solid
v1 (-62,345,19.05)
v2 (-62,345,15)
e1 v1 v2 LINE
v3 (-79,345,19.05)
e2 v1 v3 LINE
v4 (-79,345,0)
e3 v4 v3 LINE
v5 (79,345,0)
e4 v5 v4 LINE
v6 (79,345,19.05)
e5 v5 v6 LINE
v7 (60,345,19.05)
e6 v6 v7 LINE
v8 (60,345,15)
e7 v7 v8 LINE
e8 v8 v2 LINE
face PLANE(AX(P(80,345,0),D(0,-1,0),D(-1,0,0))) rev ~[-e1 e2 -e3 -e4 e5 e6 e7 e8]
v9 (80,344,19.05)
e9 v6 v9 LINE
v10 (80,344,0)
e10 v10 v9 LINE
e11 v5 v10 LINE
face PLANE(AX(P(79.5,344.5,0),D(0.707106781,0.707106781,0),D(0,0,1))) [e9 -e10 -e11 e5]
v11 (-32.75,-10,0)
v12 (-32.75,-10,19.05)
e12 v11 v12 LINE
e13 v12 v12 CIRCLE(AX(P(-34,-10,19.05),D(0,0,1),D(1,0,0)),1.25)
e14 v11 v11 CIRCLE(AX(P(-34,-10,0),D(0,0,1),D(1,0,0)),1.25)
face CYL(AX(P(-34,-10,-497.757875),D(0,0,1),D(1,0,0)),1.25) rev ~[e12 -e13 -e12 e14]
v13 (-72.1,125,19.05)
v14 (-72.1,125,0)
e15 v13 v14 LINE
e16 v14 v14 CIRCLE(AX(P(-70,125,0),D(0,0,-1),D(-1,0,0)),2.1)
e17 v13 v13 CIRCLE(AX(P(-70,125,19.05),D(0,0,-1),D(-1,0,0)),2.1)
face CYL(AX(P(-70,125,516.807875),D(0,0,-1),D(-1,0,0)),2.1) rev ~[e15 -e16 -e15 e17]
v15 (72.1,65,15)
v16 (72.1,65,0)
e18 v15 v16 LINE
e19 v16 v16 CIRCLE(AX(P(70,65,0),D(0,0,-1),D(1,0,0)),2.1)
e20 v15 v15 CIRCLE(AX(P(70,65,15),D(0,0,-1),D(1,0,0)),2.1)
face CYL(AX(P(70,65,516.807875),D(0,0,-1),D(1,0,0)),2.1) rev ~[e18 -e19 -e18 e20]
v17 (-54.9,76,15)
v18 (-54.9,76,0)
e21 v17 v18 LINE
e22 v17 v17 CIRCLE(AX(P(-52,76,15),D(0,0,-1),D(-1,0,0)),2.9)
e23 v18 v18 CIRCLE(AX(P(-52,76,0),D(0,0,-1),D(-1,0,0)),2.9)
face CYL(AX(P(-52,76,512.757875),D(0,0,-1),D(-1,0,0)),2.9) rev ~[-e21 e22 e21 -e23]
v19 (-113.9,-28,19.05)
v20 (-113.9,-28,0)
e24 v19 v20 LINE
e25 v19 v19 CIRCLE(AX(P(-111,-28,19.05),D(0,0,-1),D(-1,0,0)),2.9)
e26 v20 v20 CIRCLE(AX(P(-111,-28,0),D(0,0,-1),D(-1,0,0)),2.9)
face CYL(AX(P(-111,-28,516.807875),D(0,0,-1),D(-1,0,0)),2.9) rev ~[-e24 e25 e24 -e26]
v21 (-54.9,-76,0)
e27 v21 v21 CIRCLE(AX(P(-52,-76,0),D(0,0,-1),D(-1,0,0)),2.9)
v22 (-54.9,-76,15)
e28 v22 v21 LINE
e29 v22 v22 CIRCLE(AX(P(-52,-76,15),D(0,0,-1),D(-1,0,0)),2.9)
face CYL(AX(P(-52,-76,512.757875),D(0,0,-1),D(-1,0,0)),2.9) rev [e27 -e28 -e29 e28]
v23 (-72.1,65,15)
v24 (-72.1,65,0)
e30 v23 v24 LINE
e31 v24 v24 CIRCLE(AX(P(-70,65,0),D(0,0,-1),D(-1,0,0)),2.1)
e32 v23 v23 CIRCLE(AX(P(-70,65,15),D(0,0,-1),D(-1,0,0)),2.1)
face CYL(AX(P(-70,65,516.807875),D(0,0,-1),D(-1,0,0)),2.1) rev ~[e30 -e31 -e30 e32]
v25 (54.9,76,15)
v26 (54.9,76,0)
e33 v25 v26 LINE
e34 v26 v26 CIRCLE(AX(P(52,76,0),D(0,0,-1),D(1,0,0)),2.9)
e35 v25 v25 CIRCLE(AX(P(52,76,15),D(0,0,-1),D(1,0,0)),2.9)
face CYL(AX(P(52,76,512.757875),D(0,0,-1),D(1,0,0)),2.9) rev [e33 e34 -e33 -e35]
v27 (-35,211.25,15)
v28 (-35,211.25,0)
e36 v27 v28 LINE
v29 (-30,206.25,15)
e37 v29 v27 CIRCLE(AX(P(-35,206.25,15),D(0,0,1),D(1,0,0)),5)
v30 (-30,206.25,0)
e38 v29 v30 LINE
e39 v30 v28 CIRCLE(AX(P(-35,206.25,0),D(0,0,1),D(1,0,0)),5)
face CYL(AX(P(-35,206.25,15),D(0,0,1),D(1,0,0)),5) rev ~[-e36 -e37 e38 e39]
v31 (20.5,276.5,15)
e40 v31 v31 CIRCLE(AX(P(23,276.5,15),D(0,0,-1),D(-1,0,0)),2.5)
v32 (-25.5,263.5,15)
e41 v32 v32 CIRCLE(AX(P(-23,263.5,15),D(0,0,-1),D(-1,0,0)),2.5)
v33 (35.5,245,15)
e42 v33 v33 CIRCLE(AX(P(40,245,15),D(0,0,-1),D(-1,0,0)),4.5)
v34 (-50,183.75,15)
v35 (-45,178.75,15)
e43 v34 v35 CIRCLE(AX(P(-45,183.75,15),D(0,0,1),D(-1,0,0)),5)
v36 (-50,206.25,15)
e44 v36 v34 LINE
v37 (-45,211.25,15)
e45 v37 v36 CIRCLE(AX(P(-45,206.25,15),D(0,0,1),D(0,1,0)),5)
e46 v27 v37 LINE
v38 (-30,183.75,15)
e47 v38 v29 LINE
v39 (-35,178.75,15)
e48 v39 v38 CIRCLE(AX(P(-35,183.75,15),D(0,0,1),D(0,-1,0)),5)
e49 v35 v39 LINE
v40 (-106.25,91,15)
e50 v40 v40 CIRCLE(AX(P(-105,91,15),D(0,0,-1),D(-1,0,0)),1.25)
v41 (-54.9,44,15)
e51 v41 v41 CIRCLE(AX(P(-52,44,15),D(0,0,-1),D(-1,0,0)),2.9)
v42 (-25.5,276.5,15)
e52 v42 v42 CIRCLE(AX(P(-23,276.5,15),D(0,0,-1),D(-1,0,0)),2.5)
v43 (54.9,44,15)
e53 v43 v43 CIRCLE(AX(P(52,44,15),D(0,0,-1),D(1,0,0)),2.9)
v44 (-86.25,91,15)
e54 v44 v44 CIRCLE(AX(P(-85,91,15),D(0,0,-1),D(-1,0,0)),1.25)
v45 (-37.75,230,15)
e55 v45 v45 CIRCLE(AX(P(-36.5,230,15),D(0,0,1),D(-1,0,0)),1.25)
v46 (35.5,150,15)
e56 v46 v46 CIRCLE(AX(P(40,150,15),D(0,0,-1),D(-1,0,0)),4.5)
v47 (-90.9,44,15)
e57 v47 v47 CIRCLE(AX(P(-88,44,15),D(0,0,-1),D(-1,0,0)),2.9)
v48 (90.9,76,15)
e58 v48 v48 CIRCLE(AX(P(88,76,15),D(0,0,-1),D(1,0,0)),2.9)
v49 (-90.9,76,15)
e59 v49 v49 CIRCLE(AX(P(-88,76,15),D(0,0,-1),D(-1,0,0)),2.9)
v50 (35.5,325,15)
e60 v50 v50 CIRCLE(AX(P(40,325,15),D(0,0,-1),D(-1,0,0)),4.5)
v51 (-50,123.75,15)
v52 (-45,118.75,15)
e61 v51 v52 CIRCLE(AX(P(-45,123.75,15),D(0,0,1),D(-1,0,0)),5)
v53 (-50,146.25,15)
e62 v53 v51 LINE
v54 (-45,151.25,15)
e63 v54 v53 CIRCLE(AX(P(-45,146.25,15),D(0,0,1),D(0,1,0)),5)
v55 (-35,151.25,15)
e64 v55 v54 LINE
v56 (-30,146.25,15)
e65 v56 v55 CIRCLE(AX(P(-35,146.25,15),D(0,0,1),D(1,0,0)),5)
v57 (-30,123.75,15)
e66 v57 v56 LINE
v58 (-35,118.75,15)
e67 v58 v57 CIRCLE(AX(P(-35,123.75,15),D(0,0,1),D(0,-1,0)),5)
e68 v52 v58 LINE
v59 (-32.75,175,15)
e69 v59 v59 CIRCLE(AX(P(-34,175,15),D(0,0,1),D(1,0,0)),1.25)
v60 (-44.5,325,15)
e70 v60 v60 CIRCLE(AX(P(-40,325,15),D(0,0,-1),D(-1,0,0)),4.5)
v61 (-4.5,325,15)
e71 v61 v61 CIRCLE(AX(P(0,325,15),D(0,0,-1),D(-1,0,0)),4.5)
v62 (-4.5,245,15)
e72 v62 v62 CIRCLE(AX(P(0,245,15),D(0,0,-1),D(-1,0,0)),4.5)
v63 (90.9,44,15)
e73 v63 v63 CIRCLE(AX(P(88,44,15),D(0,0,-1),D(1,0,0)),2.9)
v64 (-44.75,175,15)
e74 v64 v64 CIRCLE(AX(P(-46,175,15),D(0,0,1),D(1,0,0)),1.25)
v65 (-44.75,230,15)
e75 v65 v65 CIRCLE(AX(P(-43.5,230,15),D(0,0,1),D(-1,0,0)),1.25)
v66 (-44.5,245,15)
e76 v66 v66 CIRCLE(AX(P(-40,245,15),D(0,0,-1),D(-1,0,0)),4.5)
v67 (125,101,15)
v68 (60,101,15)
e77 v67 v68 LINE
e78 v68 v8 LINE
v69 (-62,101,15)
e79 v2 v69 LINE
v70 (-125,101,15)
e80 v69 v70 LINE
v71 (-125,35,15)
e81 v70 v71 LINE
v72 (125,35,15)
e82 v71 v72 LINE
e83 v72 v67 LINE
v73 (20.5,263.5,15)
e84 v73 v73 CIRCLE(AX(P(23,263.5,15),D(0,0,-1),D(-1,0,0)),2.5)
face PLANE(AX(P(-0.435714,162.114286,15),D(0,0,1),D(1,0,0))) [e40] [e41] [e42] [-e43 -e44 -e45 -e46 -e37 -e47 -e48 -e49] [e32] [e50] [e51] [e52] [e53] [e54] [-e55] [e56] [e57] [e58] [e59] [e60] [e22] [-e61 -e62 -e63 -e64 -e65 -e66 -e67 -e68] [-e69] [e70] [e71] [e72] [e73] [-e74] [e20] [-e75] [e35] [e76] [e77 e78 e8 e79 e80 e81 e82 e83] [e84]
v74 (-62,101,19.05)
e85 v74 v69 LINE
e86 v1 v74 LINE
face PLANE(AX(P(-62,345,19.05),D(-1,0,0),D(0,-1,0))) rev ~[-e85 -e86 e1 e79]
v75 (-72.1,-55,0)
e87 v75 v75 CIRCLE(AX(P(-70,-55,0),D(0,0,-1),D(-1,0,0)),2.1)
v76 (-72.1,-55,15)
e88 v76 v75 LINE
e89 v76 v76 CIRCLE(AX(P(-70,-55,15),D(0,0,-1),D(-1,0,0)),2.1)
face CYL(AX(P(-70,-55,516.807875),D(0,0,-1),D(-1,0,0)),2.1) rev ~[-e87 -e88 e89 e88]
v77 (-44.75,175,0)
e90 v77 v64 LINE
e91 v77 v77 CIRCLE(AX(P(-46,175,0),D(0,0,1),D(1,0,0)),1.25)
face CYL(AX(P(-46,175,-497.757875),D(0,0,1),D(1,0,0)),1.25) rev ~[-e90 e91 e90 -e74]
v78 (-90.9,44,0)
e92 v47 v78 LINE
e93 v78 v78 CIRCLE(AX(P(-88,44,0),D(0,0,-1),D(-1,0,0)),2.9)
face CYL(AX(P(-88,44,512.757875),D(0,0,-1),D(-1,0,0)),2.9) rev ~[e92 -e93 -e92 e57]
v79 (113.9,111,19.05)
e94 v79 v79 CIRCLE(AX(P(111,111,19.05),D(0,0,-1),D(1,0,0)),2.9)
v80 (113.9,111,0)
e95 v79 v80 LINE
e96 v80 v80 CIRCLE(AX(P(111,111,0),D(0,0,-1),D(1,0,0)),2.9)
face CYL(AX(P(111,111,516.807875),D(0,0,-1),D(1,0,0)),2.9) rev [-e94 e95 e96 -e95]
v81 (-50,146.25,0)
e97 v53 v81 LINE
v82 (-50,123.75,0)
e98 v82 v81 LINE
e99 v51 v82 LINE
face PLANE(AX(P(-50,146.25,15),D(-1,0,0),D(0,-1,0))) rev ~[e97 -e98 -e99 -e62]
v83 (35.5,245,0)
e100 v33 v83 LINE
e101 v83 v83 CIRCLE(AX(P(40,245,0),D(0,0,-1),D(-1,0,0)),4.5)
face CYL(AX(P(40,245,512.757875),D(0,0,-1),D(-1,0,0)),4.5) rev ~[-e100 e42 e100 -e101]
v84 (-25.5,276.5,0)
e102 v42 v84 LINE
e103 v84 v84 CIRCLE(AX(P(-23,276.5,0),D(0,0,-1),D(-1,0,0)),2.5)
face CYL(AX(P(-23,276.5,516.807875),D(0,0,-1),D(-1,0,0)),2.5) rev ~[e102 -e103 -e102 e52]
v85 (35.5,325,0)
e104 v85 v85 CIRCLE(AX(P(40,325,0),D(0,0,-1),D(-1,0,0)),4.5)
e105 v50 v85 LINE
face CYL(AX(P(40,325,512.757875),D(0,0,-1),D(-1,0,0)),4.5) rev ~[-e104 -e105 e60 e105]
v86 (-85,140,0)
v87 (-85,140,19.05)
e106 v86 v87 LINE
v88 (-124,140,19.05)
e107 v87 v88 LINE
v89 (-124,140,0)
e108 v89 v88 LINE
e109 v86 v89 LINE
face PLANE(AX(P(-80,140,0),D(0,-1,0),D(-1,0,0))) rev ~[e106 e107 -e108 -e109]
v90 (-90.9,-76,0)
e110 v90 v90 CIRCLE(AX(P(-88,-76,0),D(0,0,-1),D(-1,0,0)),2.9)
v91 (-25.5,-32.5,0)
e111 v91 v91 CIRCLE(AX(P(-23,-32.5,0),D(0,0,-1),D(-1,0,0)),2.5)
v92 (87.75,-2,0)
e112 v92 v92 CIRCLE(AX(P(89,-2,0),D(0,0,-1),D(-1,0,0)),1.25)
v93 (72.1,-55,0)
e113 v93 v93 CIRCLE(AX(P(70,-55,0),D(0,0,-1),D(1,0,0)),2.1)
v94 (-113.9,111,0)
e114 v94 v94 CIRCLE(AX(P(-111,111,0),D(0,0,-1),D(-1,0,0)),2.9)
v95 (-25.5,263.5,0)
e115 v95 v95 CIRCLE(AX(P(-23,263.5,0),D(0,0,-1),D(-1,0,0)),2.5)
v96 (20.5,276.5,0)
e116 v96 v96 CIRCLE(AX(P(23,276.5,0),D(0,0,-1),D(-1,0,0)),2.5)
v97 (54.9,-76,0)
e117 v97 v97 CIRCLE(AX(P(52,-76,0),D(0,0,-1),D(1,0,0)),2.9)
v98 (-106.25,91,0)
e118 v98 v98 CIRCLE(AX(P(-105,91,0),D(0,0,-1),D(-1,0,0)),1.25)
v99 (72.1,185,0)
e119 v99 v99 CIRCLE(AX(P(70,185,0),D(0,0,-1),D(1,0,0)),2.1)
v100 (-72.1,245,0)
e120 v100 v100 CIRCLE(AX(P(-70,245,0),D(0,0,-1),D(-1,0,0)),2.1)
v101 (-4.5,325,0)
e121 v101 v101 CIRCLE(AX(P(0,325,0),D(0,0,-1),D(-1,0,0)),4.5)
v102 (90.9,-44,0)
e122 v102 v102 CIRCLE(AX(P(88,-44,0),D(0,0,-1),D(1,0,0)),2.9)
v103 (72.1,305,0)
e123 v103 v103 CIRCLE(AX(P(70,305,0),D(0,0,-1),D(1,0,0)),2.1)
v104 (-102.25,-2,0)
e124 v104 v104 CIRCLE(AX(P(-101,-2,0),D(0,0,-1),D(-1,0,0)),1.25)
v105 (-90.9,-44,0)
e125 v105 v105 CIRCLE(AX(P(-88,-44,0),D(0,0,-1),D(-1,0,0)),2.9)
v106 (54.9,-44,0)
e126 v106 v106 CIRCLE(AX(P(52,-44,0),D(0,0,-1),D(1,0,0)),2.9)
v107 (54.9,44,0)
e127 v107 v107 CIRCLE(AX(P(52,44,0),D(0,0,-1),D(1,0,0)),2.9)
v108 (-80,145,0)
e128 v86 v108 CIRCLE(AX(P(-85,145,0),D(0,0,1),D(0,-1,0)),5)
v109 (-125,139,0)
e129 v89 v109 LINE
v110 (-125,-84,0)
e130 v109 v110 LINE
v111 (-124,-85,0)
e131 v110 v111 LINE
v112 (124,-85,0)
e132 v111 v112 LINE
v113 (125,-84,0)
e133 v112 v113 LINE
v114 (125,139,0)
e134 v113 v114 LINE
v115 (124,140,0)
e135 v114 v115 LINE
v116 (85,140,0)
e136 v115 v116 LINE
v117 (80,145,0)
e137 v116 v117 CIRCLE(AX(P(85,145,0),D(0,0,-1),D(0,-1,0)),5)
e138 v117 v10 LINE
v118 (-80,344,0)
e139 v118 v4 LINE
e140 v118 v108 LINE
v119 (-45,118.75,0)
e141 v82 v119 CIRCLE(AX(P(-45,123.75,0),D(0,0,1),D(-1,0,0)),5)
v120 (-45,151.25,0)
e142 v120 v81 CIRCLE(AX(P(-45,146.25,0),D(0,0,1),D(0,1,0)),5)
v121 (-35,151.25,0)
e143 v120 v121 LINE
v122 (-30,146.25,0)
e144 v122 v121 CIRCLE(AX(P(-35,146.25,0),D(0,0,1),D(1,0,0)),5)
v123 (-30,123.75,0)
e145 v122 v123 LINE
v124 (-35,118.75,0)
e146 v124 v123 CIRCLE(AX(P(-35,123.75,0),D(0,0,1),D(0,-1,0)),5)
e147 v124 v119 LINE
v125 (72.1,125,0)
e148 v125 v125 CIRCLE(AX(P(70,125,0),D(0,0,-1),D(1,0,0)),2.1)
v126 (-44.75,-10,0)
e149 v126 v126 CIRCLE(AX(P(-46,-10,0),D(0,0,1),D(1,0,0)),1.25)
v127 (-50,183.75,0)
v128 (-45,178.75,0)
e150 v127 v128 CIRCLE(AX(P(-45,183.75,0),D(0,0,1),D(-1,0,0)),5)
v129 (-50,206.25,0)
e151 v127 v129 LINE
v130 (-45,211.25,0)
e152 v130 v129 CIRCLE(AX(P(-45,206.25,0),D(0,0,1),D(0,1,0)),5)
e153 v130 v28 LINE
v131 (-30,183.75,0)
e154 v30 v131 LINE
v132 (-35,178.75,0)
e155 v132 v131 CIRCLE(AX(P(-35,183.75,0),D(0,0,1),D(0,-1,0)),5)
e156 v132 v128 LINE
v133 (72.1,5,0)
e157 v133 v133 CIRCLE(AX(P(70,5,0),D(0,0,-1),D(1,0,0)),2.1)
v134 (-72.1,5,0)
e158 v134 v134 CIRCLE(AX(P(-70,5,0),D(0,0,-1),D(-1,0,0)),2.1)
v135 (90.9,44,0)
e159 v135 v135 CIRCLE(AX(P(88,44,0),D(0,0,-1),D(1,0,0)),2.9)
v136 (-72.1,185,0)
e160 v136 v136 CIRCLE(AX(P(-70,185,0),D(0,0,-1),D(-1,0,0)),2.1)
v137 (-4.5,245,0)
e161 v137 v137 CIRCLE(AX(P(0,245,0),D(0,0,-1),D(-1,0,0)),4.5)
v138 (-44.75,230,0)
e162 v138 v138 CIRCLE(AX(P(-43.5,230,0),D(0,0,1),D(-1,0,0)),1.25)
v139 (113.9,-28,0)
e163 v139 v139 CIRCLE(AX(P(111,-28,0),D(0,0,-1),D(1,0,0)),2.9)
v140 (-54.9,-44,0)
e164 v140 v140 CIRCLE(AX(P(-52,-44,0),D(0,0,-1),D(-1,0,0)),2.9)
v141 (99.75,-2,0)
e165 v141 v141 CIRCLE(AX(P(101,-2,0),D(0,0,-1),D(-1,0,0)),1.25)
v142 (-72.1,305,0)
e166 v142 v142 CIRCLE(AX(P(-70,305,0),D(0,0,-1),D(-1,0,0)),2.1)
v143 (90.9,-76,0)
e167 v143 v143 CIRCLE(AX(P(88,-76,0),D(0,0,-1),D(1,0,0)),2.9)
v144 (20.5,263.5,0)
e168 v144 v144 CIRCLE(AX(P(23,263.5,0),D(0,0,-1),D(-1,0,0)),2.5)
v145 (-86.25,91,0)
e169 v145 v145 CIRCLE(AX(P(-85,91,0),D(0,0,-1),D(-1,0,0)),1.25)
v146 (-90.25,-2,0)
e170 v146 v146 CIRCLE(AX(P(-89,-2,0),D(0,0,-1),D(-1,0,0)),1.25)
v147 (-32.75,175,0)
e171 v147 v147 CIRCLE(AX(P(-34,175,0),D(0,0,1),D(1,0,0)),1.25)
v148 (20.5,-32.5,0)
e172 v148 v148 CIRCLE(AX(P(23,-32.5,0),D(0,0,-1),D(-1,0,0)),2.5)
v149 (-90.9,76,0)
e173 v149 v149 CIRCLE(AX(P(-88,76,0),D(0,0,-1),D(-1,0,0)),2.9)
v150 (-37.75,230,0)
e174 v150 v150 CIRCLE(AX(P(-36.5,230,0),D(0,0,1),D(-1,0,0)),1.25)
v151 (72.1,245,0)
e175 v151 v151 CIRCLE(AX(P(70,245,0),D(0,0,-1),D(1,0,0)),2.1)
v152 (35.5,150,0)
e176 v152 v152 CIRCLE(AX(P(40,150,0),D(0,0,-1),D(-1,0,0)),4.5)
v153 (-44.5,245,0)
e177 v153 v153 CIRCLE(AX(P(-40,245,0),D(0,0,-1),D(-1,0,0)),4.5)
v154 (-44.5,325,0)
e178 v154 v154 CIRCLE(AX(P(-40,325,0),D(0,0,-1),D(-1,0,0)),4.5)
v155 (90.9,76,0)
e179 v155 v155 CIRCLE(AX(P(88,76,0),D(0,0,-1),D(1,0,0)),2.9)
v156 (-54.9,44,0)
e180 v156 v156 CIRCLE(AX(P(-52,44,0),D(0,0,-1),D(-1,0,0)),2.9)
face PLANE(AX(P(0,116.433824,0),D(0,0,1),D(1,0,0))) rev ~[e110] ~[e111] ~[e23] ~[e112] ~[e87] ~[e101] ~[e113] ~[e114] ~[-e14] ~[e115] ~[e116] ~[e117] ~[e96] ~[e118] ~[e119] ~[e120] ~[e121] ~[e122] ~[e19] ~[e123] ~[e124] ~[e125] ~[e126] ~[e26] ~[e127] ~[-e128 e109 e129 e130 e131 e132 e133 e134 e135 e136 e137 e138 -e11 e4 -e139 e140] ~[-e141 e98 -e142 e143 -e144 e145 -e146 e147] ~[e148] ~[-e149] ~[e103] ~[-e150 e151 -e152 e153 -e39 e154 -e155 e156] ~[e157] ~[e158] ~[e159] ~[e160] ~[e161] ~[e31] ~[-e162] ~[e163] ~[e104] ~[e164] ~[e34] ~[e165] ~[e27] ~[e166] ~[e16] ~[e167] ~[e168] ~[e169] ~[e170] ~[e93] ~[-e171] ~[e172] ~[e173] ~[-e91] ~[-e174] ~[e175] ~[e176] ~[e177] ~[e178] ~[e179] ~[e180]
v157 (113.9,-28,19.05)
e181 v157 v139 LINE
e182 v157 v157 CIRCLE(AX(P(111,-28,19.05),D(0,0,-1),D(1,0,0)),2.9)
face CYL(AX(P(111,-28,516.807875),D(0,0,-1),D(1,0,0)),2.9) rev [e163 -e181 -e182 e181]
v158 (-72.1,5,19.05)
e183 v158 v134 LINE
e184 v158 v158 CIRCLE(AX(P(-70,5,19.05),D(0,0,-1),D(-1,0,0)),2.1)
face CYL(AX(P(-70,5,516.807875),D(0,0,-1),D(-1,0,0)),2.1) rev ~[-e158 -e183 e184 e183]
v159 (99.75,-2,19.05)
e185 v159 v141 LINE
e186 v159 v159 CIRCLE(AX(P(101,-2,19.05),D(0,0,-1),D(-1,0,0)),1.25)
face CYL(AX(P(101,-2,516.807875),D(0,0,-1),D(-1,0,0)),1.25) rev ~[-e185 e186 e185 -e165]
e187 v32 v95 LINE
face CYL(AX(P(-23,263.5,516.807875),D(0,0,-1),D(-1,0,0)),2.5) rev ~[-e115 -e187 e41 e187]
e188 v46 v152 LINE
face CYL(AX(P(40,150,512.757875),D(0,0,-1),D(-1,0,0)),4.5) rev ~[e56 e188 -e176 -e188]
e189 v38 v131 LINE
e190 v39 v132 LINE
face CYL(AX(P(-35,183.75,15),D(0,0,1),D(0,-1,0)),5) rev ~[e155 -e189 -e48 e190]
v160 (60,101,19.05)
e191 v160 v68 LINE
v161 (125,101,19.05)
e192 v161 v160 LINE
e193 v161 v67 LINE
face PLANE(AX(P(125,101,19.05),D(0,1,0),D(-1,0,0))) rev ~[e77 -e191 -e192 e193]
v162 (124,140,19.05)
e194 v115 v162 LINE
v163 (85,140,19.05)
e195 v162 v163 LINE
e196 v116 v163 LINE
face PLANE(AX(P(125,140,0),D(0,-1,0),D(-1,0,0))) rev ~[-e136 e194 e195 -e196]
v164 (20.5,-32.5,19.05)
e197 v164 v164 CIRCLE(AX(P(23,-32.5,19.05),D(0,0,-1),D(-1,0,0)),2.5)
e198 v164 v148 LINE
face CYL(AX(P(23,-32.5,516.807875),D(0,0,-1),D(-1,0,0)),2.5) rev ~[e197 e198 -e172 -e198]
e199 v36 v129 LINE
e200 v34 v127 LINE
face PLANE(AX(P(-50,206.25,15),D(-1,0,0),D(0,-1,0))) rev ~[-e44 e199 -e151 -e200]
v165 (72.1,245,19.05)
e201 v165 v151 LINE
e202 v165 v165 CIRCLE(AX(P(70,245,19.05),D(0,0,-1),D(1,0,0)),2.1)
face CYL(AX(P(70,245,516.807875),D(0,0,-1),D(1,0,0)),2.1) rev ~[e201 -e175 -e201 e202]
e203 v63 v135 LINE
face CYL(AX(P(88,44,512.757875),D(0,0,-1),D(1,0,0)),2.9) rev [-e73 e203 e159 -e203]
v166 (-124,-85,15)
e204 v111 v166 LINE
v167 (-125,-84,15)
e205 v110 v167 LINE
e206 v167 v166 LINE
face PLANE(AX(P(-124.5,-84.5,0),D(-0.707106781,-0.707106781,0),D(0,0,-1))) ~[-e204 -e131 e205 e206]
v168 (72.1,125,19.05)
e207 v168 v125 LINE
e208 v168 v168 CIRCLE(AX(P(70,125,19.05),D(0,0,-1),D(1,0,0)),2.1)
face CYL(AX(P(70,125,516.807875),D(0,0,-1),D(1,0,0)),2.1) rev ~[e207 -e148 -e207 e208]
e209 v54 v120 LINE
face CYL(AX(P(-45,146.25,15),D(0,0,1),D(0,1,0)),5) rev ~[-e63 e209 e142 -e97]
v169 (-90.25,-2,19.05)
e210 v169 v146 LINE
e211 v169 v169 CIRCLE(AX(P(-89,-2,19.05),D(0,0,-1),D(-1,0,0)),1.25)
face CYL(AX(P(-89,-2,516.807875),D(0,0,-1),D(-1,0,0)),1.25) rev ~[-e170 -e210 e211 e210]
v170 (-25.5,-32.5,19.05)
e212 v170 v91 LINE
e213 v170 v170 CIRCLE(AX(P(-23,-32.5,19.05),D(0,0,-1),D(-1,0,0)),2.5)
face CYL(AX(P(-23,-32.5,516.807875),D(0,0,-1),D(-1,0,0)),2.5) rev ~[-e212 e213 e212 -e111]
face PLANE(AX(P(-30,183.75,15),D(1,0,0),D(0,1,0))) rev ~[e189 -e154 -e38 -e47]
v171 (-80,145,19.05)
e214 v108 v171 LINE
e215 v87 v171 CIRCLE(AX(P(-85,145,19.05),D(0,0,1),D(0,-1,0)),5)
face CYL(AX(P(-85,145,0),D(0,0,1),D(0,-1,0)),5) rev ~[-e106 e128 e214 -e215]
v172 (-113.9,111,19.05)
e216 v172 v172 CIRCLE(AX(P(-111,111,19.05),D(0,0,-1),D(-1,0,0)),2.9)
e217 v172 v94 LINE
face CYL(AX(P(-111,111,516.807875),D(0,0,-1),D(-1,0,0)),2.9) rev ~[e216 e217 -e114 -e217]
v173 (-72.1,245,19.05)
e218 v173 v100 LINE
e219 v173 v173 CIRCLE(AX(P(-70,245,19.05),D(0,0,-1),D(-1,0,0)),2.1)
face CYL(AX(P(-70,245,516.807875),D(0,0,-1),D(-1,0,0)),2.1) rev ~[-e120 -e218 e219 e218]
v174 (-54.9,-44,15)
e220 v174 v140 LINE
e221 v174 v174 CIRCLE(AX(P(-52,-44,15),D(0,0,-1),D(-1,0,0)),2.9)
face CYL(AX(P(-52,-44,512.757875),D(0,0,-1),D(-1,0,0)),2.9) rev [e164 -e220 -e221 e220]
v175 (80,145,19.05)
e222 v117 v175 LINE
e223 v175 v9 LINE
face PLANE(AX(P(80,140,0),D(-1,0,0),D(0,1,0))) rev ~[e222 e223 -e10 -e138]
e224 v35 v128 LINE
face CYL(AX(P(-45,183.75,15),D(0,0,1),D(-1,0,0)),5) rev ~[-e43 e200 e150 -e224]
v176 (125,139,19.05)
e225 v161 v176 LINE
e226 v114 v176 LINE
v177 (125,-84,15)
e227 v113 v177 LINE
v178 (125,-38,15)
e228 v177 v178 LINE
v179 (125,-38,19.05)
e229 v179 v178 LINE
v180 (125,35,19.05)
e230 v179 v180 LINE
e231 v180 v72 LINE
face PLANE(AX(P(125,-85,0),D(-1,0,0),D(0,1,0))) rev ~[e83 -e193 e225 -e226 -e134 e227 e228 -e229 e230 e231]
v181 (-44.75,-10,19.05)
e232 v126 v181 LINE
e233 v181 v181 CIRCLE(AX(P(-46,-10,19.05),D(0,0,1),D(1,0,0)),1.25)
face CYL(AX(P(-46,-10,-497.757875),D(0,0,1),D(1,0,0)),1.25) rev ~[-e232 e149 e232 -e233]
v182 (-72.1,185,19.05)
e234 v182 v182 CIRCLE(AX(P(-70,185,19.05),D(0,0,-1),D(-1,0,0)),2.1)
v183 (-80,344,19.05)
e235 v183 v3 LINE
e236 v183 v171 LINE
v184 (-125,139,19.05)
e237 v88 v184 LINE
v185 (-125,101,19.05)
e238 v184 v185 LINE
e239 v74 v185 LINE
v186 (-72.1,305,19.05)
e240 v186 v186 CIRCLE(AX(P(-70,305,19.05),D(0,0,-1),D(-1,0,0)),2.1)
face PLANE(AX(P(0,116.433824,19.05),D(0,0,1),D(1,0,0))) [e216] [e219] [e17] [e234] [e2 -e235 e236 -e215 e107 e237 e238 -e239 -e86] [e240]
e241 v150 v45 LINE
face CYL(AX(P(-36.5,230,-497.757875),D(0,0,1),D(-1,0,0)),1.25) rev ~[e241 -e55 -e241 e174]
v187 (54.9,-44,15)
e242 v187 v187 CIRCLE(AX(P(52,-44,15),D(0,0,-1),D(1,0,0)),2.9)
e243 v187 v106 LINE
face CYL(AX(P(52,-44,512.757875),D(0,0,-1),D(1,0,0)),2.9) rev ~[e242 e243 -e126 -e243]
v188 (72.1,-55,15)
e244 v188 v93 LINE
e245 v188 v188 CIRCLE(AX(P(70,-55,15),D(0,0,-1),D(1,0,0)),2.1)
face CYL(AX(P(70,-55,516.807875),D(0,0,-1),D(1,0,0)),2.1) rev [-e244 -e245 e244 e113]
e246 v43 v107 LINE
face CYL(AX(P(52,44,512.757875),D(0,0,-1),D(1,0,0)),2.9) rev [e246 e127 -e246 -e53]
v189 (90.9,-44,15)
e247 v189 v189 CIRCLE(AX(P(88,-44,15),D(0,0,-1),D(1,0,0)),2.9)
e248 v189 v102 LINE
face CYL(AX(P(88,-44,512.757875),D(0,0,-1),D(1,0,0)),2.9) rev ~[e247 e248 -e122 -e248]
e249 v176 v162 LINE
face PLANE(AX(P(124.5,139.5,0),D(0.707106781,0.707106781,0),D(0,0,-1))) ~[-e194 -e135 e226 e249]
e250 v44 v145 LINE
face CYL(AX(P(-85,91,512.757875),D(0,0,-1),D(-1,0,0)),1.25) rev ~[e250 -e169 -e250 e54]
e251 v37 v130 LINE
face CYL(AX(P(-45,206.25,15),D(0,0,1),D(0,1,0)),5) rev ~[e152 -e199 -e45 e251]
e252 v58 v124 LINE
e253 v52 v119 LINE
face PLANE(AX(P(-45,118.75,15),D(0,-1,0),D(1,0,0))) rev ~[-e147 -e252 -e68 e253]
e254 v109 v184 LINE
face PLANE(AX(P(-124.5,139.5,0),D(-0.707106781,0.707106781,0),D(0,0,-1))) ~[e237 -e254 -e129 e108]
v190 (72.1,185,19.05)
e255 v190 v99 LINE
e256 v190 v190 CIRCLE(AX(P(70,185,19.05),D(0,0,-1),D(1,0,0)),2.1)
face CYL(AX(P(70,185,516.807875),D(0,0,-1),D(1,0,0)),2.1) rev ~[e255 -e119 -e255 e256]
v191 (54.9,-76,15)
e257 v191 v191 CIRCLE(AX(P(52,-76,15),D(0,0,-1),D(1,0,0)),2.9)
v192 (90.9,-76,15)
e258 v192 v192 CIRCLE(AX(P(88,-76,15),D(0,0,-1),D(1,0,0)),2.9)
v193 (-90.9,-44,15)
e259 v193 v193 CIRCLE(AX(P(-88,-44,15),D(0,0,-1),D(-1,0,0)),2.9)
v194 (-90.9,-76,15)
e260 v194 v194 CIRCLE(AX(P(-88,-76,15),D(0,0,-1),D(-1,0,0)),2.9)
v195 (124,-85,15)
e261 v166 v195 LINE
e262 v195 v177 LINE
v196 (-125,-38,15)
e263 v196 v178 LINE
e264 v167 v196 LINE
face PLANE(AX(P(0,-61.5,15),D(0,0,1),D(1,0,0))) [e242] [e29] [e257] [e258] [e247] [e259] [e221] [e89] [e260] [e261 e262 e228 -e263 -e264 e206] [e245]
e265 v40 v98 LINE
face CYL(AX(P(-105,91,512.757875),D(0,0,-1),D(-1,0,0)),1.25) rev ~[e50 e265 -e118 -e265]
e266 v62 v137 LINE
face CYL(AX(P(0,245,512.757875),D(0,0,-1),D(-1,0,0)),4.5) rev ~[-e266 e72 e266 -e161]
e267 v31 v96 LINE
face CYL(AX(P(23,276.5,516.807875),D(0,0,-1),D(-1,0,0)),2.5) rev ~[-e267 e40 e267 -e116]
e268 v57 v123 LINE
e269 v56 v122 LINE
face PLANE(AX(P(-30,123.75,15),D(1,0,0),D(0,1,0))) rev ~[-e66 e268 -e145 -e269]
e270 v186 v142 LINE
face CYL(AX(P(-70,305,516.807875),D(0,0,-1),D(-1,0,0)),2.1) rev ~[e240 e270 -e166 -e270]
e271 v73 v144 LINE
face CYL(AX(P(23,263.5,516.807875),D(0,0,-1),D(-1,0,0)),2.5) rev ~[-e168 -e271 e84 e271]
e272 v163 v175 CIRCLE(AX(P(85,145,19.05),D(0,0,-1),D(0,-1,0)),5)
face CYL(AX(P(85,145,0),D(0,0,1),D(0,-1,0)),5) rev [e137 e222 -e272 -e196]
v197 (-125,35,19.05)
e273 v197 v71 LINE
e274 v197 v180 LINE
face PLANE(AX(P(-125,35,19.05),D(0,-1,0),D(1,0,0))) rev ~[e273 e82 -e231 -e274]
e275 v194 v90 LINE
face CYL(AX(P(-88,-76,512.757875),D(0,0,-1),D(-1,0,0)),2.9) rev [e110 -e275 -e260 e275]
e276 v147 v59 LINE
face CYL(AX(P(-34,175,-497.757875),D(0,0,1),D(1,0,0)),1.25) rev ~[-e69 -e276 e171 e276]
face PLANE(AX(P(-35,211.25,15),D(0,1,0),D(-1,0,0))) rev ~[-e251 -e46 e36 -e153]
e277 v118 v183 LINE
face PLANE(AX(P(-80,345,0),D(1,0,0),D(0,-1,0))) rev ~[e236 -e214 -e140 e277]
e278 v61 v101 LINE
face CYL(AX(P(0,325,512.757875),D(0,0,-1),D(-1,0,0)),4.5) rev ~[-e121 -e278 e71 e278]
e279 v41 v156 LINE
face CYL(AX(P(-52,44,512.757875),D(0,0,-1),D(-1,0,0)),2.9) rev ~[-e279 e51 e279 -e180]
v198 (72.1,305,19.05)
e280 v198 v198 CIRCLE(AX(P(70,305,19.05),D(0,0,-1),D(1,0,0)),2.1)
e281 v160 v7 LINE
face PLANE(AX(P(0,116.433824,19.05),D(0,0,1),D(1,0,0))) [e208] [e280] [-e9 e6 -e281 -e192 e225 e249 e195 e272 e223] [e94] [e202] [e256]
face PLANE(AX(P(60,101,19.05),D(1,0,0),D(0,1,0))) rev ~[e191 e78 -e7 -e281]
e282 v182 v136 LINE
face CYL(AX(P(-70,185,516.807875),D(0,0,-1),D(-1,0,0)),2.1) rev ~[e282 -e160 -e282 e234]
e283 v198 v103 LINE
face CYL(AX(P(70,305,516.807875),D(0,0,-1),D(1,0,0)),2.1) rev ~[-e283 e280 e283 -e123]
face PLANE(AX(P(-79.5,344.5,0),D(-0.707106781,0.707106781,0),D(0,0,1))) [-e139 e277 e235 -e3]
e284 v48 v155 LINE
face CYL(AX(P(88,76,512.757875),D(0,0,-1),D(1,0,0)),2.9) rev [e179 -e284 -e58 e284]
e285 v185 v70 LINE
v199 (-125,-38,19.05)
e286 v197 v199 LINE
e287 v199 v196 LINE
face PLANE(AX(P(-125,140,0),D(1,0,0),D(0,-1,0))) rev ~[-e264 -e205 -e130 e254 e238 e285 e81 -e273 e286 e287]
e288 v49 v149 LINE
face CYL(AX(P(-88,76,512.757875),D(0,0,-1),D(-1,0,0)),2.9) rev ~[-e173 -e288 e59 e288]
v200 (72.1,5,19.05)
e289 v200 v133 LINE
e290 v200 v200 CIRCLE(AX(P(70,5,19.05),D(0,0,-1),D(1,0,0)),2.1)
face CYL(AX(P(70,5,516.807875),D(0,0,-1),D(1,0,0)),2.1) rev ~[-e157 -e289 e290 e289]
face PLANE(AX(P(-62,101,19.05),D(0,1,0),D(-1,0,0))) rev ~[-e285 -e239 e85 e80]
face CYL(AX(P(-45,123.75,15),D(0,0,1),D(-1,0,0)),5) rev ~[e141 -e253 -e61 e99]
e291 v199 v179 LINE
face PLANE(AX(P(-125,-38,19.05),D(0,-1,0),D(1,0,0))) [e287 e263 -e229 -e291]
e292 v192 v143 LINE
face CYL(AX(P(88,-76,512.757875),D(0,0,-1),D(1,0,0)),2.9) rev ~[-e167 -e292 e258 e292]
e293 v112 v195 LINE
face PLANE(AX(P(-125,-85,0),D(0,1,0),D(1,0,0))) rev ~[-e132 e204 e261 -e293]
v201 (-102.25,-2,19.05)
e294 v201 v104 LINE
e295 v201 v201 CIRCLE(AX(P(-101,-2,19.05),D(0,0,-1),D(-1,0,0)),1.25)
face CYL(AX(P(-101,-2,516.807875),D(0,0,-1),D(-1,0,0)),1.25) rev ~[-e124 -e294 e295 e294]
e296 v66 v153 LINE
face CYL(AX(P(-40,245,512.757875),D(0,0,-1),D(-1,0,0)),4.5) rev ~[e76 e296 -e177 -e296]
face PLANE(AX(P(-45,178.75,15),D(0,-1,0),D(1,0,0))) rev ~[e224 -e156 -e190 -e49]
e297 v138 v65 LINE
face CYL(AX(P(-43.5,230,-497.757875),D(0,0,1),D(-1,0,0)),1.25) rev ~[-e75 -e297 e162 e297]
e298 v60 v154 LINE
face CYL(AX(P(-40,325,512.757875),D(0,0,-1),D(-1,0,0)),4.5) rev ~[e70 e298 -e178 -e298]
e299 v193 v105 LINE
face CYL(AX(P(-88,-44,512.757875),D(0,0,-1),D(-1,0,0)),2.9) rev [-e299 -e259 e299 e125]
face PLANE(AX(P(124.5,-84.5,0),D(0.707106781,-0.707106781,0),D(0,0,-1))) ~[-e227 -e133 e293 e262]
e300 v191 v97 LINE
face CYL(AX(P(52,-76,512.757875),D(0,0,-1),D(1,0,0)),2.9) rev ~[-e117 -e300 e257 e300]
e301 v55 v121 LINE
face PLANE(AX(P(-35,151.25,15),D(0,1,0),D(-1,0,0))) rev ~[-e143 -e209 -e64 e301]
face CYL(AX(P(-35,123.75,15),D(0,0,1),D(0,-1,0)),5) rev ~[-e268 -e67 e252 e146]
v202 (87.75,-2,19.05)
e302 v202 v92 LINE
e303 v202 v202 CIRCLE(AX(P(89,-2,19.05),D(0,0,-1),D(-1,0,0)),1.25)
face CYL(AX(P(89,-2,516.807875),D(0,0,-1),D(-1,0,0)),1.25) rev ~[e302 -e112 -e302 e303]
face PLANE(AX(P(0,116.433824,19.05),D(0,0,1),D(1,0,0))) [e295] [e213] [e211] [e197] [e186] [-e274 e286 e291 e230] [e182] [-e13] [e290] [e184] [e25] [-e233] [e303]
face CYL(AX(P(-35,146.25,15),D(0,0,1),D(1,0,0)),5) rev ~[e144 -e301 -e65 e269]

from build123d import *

# Parameters (mm, degrees)
BOSS_EXTRUDE1_DEPTH   = 19.05
SKETCH2_W             = 250
SKETCH2_H             = 47
CUT_EXTRUDE1_DEPTH    = 4.05
M5_CLEARANCE_HOLE2_D  = 5.8
M5_CLEARANCE_HOLE1_D  = 5.8
M5X0_8_TAPPED_HOLE1_D = 4.2
LPATTERN1_COUNT       = 7
LPATTERN1_PITCH       = 60
MIRROR2_COPY_1_D      = 5.8
MIRROR2_COPY_2_D      = 4.2
MIRROR2_COPY_3_D      = 4.2
MIRROR2_COPY_4_D      = 4.2
MIRROR2_COPY_5_D      = 4.2
MIRROR2_COPY_6_D      = 4.2
MIRROR2_COPY_7_D      = 4.2
M8_CLEARANCE_HOLE1_D  = 9
M6X1_0_TAPPED_HOLE2_D = 5
M3X0_5_TAPPED_HOLE3_D = 2.5
M3X0_5_TAPPED_HOLE1_D = 2.5
M3X0_5_TAPPED_HOLE2_D = 2.5
CUT_EXTRUDE2_REACH    = 369.253
M3X0_5_TAPPED_HOLE4_D = 2.5
FILLET1_R             = 5
CHAMFER1_SIZE         = 1


with BuildPart() as part:
    # Sketch1 → Boss-Extrude1 (new body)
    with BuildSketch(Plane.XY):
        Polygon((-125, 140), (-125, -85), (125, -85), (125, 140), (80, 140), (80, 345), (-80, 345), (-80, 140), align=None)
    extrude(amount=BOSS_EXTRUDE1_DEPTH)

    # Sketch2 → Cut-Extrude1 (cut)
    with BuildSketch(Plane.XY.offset(19.05)):
        with Locations((0, -61.5)):
            Rectangle(SKETCH2_W, SKETCH2_H)
        Polygon((-125, 35), (125, 35), (125, 101), (60, 101), (60, 345), (-62, 345), (-62, 101), (-125, 101), align=None)
    extrude(amount=-CUT_EXTRUDE1_DEPTH, mode=Mode.SUBTRACT)

    # M5 Clearance Hole2 (through all)
    with Locations(Plane.XY.offset(15)):
        with Locations((-88, 76), (-52, 76), (-52, 44), (-88, 44)):
            m5_clearance_hole2 = Hole(M5_CLEARANCE_HOLE2_D / 2)

    # Mirror1: M5 Clearance Hole2 across plane
    add(m5_clearance_hole2.mirror(Plane.ZX), mode=Mode.SUBTRACT)

    # M5 Clearance Hole1 (through all)
    with Locations(Plane.XY.offset(19.05)):
        with Locations((-111, 111), (-111, -28)):
            m5_clearance_hole1 = Hole(M5_CLEARANCE_HOLE1_D / 2)

    # M5x0.8 Tapped Hole1 (through all)
    with Locations(Plane.XY.offset(19.05)):
        with Locations((-70, -55)):
            m5x0_8_tapped_hole1 = Hole(M5X0_8_TAPPED_HOLE1_D / 2)

    # LPattern1: M5x0.8 Tapped Hole1 ×7
    with Locations(*[(0, i * LPATTERN1_PITCH, 0) for i in range(1, LPATTERN1_COUNT)]):
        add(m5x0_8_tapped_hole1, mode=Mode.SUBTRACT)

    # Mirror2: M5 Clearance Hole2, M5 Clearance Hole1, M5x0.8 Tapped Hole1 across plane
    add(m5_clearance_hole2.mirror(Plane(origin=(0, 0, 0), x_dir=(0, 0, 1), z_dir=(1, 0, 0))), mode=Mode.SUBTRACT)
    add(m5_clearance_hole1.mirror(Plane(origin=(0, 0, 0), x_dir=(0, 0, 1), z_dir=(1, 0, 0))), mode=Mode.SUBTRACT)
    add(m5x0_8_tapped_hole1.mirror(Plane(origin=(0, 0, 0), x_dir=(0, 0, 1), z_dir=(1, 0, 0))), mode=Mode.SUBTRACT)

    # Mirror2 copy 1 (through all)
    with Locations(Plane(origin=(0, 0, 15), x_dir=(-1, 0, 0), z_dir=(0, 0, 1))):
        with Locations((-88, 76), (-52, 76), (-52, 44), (-88, 44)):
            Hole(MIRROR2_COPY_1_D / 2)

    # Mirror2 copy 2 (through all)
    with Locations(Plane(origin=(0, 60, 19.05), x_dir=(-1, 0, 0), z_dir=(0, 0, 1))):
        with Locations((-70, 55)):
            Hole(MIRROR2_COPY_2_D / 2)

    # Mirror2 copy 3 (through all)
    with Locations(Plane(origin=(0, 120, 19.05), x_dir=(-1, 0, 0), z_dir=(0, 0, 1))):
        with Locations((-70, 55)):
            Hole(MIRROR2_COPY_3_D / 2)

    # Mirror2 copy 4 (through all)
    with Locations(Plane(origin=(0, 180, 19.05), x_dir=(-1, 0, 0), z_dir=(0, 0, 1))):
        with Locations((-70, 55)):
            Hole(MIRROR2_COPY_4_D / 2)

    # Mirror2 copy 5 (through all)
    with Locations(Plane(origin=(0, 240, 19.05), x_dir=(-1, 0, 0), z_dir=(0, 0, 1))):
        with Locations((-70, 55)):
            Hole(MIRROR2_COPY_5_D / 2)

    # Mirror2 copy 6 (through all)
    with Locations(Plane(origin=(0, 300, 19.05), x_dir=(-1, 0, 0), z_dir=(0, 0, 1))):
        with Locations((-70, 55)):
            Hole(MIRROR2_COPY_6_D / 2)

    # Mirror2 copy 7 (through all)
    with Locations(Plane(origin=(0, 360, 19.05), x_dir=(-1, 0, 0), z_dir=(0, 0, 1))):
        with Locations((-70, 55)):
            Hole(MIRROR2_COPY_7_D / 2)

    # M8 Clearance Hole1 (through all)
    with Locations(Plane.XY.offset(15)):
        with Locations((-40, 325), (40, 325), (40, 245), (40, 150), (-40, 245), (0, 325), (0, 245)):
            Hole(M8_CLEARANCE_HOLE1_D / 2)

    # M6x1.0 Tapped Hole2 (through all)
    with Locations(Plane.XY.offset(19.05)):
        with Locations((-23, 276.5), (23, 263.5), (-23, 263.5), (23, 276.5), (-23, -32.5), (23, -32.5)):
            Hole(M6X1_0_TAPPED_HOLE2_D / 2)

    # M3x0.5 Tapped Hole3 (through all)
    with Locations(Plane.XY.offset(19.05)):
        with Locations((-101, -2), (-89, -2), (89, -2), (101, -2)):
            Hole(M3X0_5_TAPPED_HOLE3_D / 2)

    # M3x0.5 Tapped Hole1 (through all)
    with Locations(Plane.XY.offset(15)):
        with Locations((-105, 91), (-85, 91)):
            Hole(M3X0_5_TAPPED_HOLE1_D / 2)

    # M3x0.5 Tapped Hole2 (through all)
    with Locations(Plane(origin=(0, 0, 0), x_dir=(1, 0, 0), z_dir=(0, 0, -1))):
        with Locations((-43.5, -230), (-36.5, -230)):
            Hole(M3X0_5_TAPPED_HOLE2_D / 2)

    # Sketch20 → Cut-Extrude2 (cut, up to next)
    with BuildSketch(Plane.XY.offset(15), mode=Mode.PRIVATE) as cut_extrude2_sk1:
        with BuildLine():
            Line((-50, 206.25), (-50, 183.75))
            ThreePointArc((-50, 183.75), (-48.535533906, 180.214466094), (-45, 178.75))
            Line((-45, 178.75), (-35, 178.75))
            ThreePointArc((-35, 178.75), (-31.464466094, 180.214466094), (-30, 183.75))
            Line((-30, 183.75), (-30, 206.25))
            ThreePointArc((-30, 206.25), (-31.464466094, 209.785533906), (-35, 211.25))
            Line((-35, 211.25), (-45, 211.25))
            ThreePointArc((-45, 211.25), (-48.535533906, 209.785533906), (-50, 206.25))
        make_face()
    cut_extrude2_tool1 = extrude(cut_extrude2_sk1.sketch, amount=-CUT_EXTRUDE2_REACH, mode=Mode.PRIVATE) & part.part
    # Sketch20 → Cut-Extrude2 (cut, up to next)
    with BuildSketch(Plane.XY.offset(15), mode=Mode.PRIVATE) as cut_extrude2_sk2:
        with BuildLine():
            Line((-50, 146.25), (-50, 123.75))
            ThreePointArc((-50, 123.75), (-48.535533906, 120.214466094), (-45, 118.75))
            Line((-45, 118.75), (-35, 118.75))
            ThreePointArc((-35, 118.75), (-31.464466094, 120.214466094), (-30, 123.75))
            Line((-30, 123.75), (-30, 146.25))
            ThreePointArc((-30, 146.25), (-31.464466094, 149.785533906), (-35, 151.25))
            Line((-35, 151.25), (-45, 151.25))
            ThreePointArc((-45, 151.25), (-48.535533906, 149.785533906), (-50, 146.25))
        make_face()
    cut_extrude2_tool2 = extrude(cut_extrude2_sk2.sketch, amount=-CUT_EXTRUDE2_REACH, mode=Mode.PRIVATE) & part.part
    add(cut_extrude2_tool1.solids().sort_by_distance((-40, 195, 15))[0], mode=Mode.SUBTRACT)
    add(cut_extrude2_tool2.solids().sort_by_distance((-40, 135, 15))[0], mode=Mode.SUBTRACT)

    # M3x0.5 Tapped Hole4 (through all)
    with Locations(Plane(origin=(0, 0, 0), x_dir=(-1, 0, 0), z_dir=(0, 0, -1))):
        with Locations((34, 175), (46, 175), (34, -10), (46, -10)):
            Hole(M3X0_5_TAPPED_HOLE4_D / 2)

    # Fillet1
    fillet1_edges = [part.edges().sort_by_distance(p)[0] for p in [
        (-80, 140, 9.525),
        (80, 140, 9.525),
    ]]
    fillet(fillet1_edges, radius=FILLET1_R)

    # Chamfer1
    chamfer1_edges = [part.edges().sort_by_distance(p)[0] for p in [
        (-80, 345, 9.525),
        (80, 345, 9.525),
        (125, 140, 9.525),
        (-125, 140, 9.525),
        (125, -85, 7.5),
        (-125, -85, 7.5),
    ]]
    chamfer(chamfer1_edges, length=CHAMFER1_SIZE)


solid = part.part
